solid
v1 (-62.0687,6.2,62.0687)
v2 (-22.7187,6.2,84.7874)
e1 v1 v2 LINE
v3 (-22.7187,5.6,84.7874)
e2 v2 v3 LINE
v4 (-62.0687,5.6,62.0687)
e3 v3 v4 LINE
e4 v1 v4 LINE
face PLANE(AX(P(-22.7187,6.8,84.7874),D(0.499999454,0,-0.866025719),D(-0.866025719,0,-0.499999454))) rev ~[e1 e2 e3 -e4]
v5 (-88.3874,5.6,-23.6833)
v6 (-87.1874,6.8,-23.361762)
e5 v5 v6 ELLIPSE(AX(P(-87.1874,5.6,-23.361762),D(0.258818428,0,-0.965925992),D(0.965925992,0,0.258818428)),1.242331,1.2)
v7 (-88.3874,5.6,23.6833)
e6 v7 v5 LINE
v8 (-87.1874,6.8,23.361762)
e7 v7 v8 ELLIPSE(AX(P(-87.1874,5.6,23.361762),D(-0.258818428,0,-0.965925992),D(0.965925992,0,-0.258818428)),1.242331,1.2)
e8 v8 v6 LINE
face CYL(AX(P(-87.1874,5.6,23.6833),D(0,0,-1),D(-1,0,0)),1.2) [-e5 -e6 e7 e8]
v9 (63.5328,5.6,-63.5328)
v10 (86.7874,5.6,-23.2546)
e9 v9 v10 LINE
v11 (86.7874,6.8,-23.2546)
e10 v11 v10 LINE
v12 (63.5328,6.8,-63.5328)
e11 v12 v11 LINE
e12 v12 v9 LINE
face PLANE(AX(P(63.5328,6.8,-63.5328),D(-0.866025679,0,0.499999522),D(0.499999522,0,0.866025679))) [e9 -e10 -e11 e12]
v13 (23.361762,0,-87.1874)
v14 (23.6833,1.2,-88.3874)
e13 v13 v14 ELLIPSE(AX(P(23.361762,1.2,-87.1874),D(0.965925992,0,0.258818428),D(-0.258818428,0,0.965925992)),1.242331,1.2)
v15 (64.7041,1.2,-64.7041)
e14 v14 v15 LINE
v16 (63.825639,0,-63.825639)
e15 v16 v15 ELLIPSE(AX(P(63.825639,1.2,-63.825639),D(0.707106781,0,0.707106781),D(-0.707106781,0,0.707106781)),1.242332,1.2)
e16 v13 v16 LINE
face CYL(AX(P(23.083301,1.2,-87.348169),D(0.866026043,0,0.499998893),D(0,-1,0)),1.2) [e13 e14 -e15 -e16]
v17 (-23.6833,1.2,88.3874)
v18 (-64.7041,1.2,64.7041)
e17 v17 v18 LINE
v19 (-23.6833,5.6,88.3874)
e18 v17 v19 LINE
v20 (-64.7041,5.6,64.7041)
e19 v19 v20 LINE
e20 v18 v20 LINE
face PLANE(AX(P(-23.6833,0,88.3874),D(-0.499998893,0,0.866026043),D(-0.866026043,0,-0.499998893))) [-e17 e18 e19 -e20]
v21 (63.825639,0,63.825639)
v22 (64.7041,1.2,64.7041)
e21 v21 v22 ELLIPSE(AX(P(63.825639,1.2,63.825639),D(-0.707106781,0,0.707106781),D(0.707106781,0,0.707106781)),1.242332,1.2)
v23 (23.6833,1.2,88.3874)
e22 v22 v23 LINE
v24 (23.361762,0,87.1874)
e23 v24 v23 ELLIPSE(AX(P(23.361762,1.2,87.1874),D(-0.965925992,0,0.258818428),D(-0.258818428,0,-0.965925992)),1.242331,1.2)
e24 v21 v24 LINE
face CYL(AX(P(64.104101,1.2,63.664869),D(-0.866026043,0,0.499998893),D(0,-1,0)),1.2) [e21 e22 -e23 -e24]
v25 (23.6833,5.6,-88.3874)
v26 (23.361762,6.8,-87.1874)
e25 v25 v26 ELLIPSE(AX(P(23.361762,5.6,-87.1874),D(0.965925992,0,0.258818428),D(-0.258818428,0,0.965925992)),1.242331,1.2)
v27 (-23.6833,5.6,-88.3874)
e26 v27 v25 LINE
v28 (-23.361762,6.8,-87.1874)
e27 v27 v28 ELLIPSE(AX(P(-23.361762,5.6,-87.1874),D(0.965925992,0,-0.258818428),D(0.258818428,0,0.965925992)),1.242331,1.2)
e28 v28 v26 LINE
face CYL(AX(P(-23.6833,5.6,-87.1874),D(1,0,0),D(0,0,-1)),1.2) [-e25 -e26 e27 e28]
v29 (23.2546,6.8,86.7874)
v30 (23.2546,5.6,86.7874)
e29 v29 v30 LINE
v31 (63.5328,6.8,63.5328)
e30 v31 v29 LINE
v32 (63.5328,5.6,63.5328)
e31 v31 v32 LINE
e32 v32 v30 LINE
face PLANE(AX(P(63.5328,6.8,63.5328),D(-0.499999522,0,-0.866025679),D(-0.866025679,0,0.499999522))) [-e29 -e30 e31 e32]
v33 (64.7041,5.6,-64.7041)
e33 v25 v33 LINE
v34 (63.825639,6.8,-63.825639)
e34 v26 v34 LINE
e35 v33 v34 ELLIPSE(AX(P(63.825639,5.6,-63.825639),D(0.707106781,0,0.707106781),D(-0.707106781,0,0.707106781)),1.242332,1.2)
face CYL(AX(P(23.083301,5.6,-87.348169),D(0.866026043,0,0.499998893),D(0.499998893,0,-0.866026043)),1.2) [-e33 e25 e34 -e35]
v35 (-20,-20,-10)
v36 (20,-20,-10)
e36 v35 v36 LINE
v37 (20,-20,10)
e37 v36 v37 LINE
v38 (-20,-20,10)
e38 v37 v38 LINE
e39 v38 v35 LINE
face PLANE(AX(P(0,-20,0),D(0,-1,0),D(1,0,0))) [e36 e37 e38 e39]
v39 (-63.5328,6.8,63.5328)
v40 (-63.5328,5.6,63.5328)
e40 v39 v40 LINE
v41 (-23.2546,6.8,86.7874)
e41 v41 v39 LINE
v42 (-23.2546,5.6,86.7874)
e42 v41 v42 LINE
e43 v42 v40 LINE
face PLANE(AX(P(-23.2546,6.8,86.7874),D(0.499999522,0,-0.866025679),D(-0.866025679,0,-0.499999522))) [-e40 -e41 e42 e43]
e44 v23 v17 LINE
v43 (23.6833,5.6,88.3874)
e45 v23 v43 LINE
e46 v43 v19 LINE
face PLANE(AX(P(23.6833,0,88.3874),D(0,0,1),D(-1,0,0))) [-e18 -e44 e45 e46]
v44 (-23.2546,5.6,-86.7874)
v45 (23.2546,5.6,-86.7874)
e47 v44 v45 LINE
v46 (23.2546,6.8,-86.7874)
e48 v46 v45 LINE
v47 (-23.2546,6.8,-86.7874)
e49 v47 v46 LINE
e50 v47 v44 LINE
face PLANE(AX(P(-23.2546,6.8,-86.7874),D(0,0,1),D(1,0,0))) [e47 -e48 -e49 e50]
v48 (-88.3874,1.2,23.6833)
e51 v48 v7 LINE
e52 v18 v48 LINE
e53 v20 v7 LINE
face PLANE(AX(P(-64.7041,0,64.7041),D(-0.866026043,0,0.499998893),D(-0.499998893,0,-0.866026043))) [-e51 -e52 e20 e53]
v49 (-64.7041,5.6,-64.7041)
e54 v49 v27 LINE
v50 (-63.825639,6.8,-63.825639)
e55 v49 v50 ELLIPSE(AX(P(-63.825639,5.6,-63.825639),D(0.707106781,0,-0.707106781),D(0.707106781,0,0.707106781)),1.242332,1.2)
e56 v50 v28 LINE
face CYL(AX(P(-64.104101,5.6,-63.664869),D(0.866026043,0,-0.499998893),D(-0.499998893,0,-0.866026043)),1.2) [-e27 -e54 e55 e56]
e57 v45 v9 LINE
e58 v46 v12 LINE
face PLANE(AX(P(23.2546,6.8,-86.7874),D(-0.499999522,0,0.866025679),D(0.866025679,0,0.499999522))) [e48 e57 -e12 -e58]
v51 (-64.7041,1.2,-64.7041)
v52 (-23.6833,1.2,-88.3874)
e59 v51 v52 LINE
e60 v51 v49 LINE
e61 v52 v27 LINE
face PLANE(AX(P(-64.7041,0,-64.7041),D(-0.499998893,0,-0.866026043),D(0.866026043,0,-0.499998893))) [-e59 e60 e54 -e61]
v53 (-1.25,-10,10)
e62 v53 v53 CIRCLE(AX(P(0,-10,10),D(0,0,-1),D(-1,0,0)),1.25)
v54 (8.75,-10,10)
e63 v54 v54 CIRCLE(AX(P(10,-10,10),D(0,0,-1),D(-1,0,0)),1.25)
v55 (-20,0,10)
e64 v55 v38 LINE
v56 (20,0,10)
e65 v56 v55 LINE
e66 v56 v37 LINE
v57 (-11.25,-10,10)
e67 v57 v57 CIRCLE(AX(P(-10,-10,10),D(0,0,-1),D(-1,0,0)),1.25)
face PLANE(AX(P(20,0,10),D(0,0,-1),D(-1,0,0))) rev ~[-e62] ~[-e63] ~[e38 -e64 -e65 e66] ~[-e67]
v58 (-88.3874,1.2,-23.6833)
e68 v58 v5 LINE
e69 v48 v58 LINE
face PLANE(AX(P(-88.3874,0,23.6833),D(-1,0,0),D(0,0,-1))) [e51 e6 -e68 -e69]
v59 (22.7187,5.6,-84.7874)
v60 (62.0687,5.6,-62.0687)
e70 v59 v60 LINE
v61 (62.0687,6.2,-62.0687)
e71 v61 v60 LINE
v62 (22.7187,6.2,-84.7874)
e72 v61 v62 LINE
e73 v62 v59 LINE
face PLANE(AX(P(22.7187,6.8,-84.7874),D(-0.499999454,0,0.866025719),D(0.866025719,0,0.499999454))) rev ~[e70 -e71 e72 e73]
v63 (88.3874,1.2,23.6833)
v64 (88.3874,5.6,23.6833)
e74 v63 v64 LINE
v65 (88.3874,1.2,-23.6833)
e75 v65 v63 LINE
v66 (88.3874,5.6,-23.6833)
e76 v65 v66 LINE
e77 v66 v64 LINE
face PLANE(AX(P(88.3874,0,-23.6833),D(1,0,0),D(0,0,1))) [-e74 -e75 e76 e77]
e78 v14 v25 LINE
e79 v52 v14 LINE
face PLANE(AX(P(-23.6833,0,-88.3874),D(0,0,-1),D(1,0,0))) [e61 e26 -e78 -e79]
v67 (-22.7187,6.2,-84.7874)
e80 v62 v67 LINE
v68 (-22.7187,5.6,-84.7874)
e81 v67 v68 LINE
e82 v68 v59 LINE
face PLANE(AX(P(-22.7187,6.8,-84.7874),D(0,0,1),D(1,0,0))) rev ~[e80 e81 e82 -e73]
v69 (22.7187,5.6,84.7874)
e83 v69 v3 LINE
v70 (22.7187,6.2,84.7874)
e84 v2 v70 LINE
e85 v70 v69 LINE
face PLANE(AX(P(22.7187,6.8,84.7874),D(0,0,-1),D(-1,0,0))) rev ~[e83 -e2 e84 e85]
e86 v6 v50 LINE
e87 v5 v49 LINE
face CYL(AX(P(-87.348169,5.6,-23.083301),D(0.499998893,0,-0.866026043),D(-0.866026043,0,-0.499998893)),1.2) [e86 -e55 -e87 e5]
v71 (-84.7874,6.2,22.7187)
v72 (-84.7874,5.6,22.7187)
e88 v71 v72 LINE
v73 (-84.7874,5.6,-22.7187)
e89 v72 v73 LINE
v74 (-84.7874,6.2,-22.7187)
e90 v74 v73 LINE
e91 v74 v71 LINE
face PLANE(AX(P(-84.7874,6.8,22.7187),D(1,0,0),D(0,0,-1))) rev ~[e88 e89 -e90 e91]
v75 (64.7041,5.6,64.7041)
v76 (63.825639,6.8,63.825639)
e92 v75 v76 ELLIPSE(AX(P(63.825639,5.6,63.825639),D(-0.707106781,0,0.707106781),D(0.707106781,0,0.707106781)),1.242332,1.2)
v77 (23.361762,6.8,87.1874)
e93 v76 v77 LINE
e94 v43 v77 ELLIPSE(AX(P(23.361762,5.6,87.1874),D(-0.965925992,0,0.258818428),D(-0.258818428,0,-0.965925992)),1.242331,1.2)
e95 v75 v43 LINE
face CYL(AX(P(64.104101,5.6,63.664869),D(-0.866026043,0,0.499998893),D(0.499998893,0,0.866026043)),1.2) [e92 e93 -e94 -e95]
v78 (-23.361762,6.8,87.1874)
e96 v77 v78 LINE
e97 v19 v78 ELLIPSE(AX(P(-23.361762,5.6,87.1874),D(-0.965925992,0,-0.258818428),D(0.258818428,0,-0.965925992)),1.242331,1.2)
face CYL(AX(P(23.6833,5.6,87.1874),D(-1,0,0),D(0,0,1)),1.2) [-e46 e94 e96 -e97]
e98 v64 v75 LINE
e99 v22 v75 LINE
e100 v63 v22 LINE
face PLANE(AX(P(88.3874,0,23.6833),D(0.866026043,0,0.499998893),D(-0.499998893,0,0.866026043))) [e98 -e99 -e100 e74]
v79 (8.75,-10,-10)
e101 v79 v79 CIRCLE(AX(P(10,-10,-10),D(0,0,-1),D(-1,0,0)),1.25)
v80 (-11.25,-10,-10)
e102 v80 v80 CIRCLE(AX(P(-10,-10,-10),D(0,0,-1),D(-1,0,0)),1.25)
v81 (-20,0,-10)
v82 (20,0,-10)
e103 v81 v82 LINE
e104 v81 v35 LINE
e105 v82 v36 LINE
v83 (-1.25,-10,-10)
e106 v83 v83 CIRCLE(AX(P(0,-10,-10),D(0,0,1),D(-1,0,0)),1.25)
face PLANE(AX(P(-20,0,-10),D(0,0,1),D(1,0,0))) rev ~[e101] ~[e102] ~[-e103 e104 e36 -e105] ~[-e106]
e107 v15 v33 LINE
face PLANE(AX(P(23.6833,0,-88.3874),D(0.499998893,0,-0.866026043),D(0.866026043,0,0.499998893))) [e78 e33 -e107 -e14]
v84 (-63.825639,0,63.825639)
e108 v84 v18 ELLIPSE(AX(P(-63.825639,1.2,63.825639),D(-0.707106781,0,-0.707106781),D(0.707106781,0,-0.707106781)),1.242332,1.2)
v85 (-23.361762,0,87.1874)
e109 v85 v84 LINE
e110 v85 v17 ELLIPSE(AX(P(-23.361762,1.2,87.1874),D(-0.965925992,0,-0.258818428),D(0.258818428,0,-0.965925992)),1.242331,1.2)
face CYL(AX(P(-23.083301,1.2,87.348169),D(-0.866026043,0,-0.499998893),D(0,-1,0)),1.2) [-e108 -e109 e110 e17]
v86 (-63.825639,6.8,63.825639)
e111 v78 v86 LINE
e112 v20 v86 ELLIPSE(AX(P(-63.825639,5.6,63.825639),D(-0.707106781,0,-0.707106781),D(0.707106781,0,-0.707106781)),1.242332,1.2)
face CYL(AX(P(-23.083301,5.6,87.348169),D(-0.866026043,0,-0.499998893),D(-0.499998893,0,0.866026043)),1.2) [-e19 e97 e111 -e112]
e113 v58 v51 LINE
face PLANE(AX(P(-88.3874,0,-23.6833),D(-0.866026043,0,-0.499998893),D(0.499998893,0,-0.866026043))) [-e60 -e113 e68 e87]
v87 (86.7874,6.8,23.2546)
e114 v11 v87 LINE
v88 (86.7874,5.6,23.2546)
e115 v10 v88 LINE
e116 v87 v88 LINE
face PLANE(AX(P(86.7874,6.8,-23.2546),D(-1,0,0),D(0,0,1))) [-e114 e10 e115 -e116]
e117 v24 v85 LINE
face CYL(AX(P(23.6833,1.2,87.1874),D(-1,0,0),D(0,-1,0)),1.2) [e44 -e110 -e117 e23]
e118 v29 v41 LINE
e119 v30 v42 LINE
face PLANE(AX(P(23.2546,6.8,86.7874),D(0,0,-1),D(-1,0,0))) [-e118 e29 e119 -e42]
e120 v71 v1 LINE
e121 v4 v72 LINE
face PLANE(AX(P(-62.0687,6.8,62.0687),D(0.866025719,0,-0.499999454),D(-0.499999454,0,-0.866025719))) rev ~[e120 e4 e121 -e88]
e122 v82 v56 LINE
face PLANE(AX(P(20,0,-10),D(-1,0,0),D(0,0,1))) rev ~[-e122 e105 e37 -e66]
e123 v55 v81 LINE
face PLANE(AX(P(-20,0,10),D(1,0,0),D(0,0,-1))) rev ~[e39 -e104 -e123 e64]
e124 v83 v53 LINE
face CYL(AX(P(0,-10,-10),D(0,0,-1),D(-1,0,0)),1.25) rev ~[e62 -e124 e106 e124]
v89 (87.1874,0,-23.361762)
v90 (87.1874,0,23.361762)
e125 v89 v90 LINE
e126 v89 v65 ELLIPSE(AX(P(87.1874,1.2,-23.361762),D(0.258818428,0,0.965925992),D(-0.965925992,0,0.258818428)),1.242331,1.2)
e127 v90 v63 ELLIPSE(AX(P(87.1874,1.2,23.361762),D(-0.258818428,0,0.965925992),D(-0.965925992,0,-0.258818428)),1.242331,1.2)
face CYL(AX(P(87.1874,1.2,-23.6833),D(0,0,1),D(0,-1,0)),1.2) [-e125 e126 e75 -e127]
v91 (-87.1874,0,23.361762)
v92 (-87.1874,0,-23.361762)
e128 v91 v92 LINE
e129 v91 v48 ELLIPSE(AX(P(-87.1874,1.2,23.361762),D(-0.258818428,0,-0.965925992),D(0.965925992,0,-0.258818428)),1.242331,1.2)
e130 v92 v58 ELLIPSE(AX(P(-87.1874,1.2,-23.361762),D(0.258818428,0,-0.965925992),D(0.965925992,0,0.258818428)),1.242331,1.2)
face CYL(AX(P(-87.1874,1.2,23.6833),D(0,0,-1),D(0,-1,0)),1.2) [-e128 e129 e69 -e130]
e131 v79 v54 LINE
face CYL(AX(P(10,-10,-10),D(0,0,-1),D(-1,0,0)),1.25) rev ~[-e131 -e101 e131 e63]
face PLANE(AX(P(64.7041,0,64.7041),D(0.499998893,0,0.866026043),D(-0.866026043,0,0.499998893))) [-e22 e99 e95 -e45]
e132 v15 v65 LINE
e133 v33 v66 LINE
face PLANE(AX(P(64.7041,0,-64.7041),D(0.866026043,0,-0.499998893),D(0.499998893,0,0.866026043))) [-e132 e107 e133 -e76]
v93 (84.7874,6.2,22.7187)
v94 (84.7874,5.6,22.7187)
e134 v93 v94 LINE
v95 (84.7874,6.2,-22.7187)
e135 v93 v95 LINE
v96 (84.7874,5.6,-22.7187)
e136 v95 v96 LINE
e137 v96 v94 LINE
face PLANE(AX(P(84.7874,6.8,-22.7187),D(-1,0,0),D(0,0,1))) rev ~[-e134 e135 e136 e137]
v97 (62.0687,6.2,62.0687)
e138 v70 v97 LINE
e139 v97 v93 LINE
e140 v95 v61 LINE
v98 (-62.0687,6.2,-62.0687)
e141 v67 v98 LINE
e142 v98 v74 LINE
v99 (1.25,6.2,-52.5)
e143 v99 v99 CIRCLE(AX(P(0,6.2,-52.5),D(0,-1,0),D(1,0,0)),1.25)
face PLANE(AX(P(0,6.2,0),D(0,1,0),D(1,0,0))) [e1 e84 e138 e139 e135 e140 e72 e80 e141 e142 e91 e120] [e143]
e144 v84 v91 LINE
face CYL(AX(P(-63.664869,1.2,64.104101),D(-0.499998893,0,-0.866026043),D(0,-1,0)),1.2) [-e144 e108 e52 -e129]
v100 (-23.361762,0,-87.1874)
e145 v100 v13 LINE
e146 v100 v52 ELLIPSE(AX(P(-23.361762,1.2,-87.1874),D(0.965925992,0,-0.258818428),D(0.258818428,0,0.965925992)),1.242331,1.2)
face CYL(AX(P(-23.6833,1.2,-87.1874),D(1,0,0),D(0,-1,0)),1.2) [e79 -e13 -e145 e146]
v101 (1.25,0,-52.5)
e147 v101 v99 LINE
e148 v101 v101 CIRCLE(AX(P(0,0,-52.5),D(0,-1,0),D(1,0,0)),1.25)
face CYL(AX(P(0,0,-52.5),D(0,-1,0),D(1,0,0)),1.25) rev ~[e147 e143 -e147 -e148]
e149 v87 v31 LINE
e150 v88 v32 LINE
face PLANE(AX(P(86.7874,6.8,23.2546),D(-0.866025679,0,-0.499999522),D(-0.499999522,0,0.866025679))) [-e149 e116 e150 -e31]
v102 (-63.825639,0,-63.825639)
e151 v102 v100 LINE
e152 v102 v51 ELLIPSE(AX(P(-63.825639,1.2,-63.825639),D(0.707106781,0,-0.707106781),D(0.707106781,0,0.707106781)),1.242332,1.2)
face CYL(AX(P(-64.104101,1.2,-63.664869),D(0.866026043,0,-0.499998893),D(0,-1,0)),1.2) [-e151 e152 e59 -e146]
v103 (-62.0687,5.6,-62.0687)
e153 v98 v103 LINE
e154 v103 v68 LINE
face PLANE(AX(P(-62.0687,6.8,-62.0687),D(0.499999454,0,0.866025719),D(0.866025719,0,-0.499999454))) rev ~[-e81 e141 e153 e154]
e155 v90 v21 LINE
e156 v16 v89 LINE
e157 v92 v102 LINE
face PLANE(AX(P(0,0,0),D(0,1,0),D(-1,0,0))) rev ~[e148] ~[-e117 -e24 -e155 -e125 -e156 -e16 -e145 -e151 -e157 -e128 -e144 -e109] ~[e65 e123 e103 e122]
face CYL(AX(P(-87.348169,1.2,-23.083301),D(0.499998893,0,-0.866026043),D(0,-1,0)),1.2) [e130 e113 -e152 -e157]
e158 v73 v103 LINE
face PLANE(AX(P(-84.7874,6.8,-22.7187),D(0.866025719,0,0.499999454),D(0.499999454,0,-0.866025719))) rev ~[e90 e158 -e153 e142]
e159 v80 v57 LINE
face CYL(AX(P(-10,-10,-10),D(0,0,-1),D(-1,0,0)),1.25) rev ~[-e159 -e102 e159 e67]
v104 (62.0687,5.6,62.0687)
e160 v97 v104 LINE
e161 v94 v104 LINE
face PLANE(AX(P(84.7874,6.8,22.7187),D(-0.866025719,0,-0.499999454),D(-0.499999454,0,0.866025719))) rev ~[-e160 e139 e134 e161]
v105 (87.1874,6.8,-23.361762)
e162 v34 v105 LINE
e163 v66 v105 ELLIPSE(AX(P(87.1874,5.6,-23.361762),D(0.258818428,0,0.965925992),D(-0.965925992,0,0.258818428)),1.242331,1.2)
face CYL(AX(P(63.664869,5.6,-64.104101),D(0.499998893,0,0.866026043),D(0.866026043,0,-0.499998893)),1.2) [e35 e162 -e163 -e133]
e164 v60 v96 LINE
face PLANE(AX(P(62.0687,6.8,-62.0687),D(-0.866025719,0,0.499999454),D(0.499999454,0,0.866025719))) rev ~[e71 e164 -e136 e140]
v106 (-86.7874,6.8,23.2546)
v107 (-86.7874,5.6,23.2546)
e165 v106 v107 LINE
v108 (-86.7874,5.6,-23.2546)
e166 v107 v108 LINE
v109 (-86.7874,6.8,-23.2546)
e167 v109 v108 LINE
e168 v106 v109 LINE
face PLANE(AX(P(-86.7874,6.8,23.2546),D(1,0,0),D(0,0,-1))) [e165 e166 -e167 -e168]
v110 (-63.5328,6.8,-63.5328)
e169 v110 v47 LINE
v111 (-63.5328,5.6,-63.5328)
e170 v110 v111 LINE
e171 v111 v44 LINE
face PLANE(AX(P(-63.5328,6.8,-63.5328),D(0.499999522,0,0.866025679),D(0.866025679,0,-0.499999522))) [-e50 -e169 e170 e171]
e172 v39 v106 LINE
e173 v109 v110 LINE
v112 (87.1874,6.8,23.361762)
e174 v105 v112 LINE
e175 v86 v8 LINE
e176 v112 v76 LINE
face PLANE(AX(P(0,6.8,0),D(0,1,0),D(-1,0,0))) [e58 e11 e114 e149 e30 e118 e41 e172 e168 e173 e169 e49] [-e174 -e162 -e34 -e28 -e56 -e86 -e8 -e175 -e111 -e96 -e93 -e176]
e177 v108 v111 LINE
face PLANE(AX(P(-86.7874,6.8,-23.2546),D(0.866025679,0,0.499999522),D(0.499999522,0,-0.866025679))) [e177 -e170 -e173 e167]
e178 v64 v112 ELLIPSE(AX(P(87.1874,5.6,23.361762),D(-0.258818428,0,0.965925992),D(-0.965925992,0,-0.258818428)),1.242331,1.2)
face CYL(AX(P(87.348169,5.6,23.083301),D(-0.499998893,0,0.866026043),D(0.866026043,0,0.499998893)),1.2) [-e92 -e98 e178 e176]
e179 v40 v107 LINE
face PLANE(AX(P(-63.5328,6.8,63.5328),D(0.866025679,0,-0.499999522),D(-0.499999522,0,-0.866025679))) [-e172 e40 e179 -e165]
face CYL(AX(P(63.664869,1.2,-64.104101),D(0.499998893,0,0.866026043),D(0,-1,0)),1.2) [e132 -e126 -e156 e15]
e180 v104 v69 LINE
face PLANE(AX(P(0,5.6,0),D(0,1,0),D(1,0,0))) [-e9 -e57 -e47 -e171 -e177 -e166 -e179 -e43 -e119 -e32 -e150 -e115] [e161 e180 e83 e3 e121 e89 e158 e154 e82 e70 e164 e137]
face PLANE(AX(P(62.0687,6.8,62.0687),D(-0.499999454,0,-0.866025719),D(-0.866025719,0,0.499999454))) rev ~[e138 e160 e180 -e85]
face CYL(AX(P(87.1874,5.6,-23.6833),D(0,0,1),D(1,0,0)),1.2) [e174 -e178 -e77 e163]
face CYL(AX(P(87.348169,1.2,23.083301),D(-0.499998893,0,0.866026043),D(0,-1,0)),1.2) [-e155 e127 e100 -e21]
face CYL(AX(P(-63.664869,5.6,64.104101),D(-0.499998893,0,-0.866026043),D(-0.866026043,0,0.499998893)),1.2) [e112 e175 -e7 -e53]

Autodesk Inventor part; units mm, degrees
ref_plane "YZ Plane" through (0, 0, 0) normal (1, 0, 0) x (0, 1, 0)
ref_plane "XZ Plane" through (0, 0, 0) normal (0, 1, 0) x (-1, 0, 0)
ref_plane "XY Plane" through (0, 0, 0) normal (0, 0, 1) x (1, 0, 0)
sketch "스케치1" plane through (0, 0, 0) normal (0, 1, 0) x (-1, 0, 0)
  line L0 (-62.3615, 62.3615) -> (-22.8259, 85.1874)
  line L1 (-22.8259, 85.1874) -> (22.8259, 85.1874)
  line L2 (22.8259, 85.1874) -> (62.3615, 62.3615)
  line L3 (62.3615, 62.3615) -> (85.1874, 22.8259)
  line L4 (85.1874, 22.8259) -> (85.1874, -22.8259)
  line L5 (85.1874, -22.8259) -> (62.3615, -62.3615)
  line L6 (62.3615, -62.3615) -> (22.8259, -85.1874)
  line L7 (22.8259, -85.1874) -> (-22.8259, -85.1874)
  line L8 (-22.8259, -85.1874) -> (-62.3615, -62.3615)
  line L9 (-62.3615, -62.3615) -> (-85.1874, -22.8259)
  line L10 (-85.1874, -22.8259) -> (-85.1874, 22.8259)
  line L11 (-85.1874, 22.8259) -> (-62.3615, 62.3615)
  line L12 (88.3874, -23.6833) -> (64.7041, -64.7041)
  line L13 (64.7041, -64.7041) -> (23.6833, -88.3874)
  line L14 (23.6833, -88.3874) -> (-23.6833, -88.3874)
  line L15 (-23.6833, -88.3874) -> (-64.7041, -64.7041)
  line L16 (-64.7041, -64.7041) -> (-88.3874, -23.6833)
  line L17 (-88.3874, -23.6833) -> (-88.3874, 23.6833)
  line L18 (-88.3874, 23.6833) -> (-64.7041, 64.7041)
  line L19 (-64.7041, 64.7041) -> (-23.6833, 88.3874)
  line L20 (-23.6833, 88.3874) -> (23.6833, 88.3874)
  line L21 (23.6833, 88.3874) -> (64.7041, 64.7041)
  line L22 (64.7041, 64.7041) -> (88.3874, 23.6833)
  line L23 (88.3874, 23.6833) -> (88.3874, -23.6833)
  point P0 (0, 0)
  point P1 (0, 0)
  point P2 (0, 0)
  dimension "d0" = 176.385
  dimension "d1" = 3.2
extrude "돌출1" add sketch "스케치1" along normal blind 6.8 contours L0 L1 L2 L3 L4 L5 L6 L7 L8 L9 L10 L11 | L12 L13 L14 L15 L16 L17 L18 L19 L20 L21 L22 L23
sketch "스케치2" plane through (0, 6.8, 0) normal (0, 1, 0) x (1, 0, 0)
  line L0 (-23.2546, 86.7874) -> (23.2546, 86.7874)
  line L1 (23.2546, 86.7874) -> (63.5328, 63.5328)
  line L2 (63.5328, 63.5328) -> (86.7874, 23.2546)
  line L3 (86.7874, 23.2546) -> (86.7874, -23.2546)
  line L4 (86.7874, -23.2546) -> (63.5328, -63.5328)
  line L5 (63.5328, -63.5328) -> (23.2546, -86.7874)
  line L6 (23.2546, -86.7874) -> (-23.2546, -86.7874)
  line L7 (-23.2546, -86.7874) -> (-63.5328, -63.5328)
  line L8 (-63.5328, -63.5328) -> (-86.7874, -23.2546)
  line L9 (-86.7874, -23.2546) -> (-86.7874, 23.2546)
  line L10 (-86.7874, 23.2546) -> (-63.5328, 63.5328)
  line L11 (-63.5328, 63.5328) -> (-23.2546, 86.7874)
  line L12 (-88.3874, 23.6833) -> (-88.3874, -23.6833) projected
  line L13 (22.7187, -84.7874) -> (-22.7187, -84.7874)
  line L14 (-22.7187, -84.7874) -> (-62.0687, -62.0687)
  line L15 (-62.0687, -62.0687) -> (-84.7874, -22.7187)
  line L16 (-84.7874, -22.7187) -> (-84.7874, 22.7187)
  line L17 (-84.7874, 22.7187) -> (-62.0687, 62.0687)
  line L18 (-62.0687, 62.0687) -> (-22.7187, 84.7874)
  line L19 (-22.7187, 84.7874) -> (22.7187, 84.7874)
  line L20 (22.7187, 84.7874) -> (62.0687, 62.0687)
  line L21 (62.0687, 62.0687) -> (84.7874, 22.7187)
  line L22 (84.7874, 22.7187) -> (84.7874, -22.7187)
  line L23 (84.7874, -22.7187) -> (62.0687, -62.0687)
  line L24 (62.0687, -62.0687) -> (22.7187, -84.7874)
  point P0 (0, 0)
  point P1 (0, 0)
  point P2 (0, 0)
  dimension "d4" = 1.6
  dimension "d5" = 2
extrude "돌출2" cut sketch "스케치2" against normal blind 1.2
sketch "스케치3" plane through (0, 0, 0) normal (0, -1, 0) x (1, 0, 0)
  line L0 (-20, -10) -> (20, -10)
  line L1 (20, -10) -> (20, 10)
  line L2 (20, 10) -> (-20, 10)
  line L3 (-20, 10) -> (-20, -10)
  line L4 (-20, -10) -> (20, 10) construction
  line L5 (20, -10) -> (-20, 10) construction
  point P0 (0, 0)
  point P1 (0, 0)
  point P2 (-20, 0)
  dimension "d8" = 40
  dimension "d9" = 20
extrude "돌출3" add sketch "스케치3" along normal blind 20
sketch "스케치4" plane through (20, 0, -10) normal (0, 0, -1) x (-1, 0, 0)
  circle A0 centre (10, -10) radius 1.25
  line L0 (-3.6833, 0) -> (43.6833, 0) projected
  line L1 (40, -20) -> (0, -20) projected
  line L2 (20, -20) -> (20, 0)
  circle A1 centre (20, -10) radius 1.25
  circle A2 centre (30, -10) radius 1.25
  dimension "d13" = 2.5
  dimension "d14" = 10
  dimension "d15" = 10
  dimension "d16" = 2.5
extrude "돌출4" cut sketch "스케치4" against normal blind 20
sketch "스케치5" plane through (0, 6.8, 0) normal (0, 1, 0) x (1, 0, 0)
  line L0 (-62.0687, -62.0687) -> (-22.7187, -84.7874) projected
  line L1 (-22.7187, -84.7874) -> (22.7187, -84.7874) projected
  line L2 (22.7187, -84.7874) -> (62.0687, -62.0687) projected
  line L3 (62.0687, -62.0687) -> (84.7874, -22.7187) projected
  line L4 (84.7874, -22.7187) -> (84.7874, 22.7187) projected
  line L5 (84.7874, 22.7187) -> (62.0687, 62.0687) projected
  line L6 (62.0687, 62.0687) -> (22.7187, 84.7874) projected
  line L7 (22.7187, 84.7874) -> (-22.7187, 84.7874) projected
  line L8 (-22.7187, 84.7874) -> (-62.0687, 62.0687) projected
  line L9 (-62.0687, 62.0687) -> (-84.7874, 22.7187) projected
  line L10 (-84.7874, 22.7187) -> (-84.7874, -22.7187) projected
  line L11 (-84.7874, -22.7187) -> (-62.0687, -62.0687) projected
  point P0 (0, 0)
extrude "돌출5" cut sketch "스케치5" against normal blind 0.6
sketch "스케치6" plane through (0, 0, 0) normal (0, -1, 0) x (1, 0, 0)
  circle A0 centre (0, -52.5) radius 1.25
  line L0 (-20, -10) -> (20, -10) projected
  point P0 (0, 0)
  point P1 (0, -10)
  dimension "d22" = 2.5
  dimension "d23" = 52.5
extrude "돌출6" cut sketch "스케치6" against normal up to surface (6.2 mm away)
fillet "모깎기1" radius 1.2 24 edges at (76.5457, 0, 44.1937) (76.5457, 6.8, 44.1937) (88.3874, 6.8, 0) (88.3874, 0, 0) (76.5457, 6.8, -44.1937) (76.5457, 0, -44.1937) (44.1937, 6.8, -76.5457) (44.1937, 0, -76.5457) (0, 0, -88.3874) (0, 6.8, -88.3874) (-44.1937, 6.8, -76.5457) (-44.1937, 0, -76.5457) (-76.5457, 0, -44.1937) (-76.5457, 6.8, -44.1937) (-88.3874, 0, 0) (-88.3874, 6.8, 0) (-76.5457, 0, 44.1937) (-76.5457, 6.8, 44.1937) (-44.1937, 0, 76.5457) (-44.1937, 6.8, 76.5457) (0, 0, 88.3874) (0, 6.8, 88.3874) (44.1937, 0, 76.5457) (44.1937, 6.8, 76.5457)
properties part number "(x2)_POSPA_Large_Bottom"
